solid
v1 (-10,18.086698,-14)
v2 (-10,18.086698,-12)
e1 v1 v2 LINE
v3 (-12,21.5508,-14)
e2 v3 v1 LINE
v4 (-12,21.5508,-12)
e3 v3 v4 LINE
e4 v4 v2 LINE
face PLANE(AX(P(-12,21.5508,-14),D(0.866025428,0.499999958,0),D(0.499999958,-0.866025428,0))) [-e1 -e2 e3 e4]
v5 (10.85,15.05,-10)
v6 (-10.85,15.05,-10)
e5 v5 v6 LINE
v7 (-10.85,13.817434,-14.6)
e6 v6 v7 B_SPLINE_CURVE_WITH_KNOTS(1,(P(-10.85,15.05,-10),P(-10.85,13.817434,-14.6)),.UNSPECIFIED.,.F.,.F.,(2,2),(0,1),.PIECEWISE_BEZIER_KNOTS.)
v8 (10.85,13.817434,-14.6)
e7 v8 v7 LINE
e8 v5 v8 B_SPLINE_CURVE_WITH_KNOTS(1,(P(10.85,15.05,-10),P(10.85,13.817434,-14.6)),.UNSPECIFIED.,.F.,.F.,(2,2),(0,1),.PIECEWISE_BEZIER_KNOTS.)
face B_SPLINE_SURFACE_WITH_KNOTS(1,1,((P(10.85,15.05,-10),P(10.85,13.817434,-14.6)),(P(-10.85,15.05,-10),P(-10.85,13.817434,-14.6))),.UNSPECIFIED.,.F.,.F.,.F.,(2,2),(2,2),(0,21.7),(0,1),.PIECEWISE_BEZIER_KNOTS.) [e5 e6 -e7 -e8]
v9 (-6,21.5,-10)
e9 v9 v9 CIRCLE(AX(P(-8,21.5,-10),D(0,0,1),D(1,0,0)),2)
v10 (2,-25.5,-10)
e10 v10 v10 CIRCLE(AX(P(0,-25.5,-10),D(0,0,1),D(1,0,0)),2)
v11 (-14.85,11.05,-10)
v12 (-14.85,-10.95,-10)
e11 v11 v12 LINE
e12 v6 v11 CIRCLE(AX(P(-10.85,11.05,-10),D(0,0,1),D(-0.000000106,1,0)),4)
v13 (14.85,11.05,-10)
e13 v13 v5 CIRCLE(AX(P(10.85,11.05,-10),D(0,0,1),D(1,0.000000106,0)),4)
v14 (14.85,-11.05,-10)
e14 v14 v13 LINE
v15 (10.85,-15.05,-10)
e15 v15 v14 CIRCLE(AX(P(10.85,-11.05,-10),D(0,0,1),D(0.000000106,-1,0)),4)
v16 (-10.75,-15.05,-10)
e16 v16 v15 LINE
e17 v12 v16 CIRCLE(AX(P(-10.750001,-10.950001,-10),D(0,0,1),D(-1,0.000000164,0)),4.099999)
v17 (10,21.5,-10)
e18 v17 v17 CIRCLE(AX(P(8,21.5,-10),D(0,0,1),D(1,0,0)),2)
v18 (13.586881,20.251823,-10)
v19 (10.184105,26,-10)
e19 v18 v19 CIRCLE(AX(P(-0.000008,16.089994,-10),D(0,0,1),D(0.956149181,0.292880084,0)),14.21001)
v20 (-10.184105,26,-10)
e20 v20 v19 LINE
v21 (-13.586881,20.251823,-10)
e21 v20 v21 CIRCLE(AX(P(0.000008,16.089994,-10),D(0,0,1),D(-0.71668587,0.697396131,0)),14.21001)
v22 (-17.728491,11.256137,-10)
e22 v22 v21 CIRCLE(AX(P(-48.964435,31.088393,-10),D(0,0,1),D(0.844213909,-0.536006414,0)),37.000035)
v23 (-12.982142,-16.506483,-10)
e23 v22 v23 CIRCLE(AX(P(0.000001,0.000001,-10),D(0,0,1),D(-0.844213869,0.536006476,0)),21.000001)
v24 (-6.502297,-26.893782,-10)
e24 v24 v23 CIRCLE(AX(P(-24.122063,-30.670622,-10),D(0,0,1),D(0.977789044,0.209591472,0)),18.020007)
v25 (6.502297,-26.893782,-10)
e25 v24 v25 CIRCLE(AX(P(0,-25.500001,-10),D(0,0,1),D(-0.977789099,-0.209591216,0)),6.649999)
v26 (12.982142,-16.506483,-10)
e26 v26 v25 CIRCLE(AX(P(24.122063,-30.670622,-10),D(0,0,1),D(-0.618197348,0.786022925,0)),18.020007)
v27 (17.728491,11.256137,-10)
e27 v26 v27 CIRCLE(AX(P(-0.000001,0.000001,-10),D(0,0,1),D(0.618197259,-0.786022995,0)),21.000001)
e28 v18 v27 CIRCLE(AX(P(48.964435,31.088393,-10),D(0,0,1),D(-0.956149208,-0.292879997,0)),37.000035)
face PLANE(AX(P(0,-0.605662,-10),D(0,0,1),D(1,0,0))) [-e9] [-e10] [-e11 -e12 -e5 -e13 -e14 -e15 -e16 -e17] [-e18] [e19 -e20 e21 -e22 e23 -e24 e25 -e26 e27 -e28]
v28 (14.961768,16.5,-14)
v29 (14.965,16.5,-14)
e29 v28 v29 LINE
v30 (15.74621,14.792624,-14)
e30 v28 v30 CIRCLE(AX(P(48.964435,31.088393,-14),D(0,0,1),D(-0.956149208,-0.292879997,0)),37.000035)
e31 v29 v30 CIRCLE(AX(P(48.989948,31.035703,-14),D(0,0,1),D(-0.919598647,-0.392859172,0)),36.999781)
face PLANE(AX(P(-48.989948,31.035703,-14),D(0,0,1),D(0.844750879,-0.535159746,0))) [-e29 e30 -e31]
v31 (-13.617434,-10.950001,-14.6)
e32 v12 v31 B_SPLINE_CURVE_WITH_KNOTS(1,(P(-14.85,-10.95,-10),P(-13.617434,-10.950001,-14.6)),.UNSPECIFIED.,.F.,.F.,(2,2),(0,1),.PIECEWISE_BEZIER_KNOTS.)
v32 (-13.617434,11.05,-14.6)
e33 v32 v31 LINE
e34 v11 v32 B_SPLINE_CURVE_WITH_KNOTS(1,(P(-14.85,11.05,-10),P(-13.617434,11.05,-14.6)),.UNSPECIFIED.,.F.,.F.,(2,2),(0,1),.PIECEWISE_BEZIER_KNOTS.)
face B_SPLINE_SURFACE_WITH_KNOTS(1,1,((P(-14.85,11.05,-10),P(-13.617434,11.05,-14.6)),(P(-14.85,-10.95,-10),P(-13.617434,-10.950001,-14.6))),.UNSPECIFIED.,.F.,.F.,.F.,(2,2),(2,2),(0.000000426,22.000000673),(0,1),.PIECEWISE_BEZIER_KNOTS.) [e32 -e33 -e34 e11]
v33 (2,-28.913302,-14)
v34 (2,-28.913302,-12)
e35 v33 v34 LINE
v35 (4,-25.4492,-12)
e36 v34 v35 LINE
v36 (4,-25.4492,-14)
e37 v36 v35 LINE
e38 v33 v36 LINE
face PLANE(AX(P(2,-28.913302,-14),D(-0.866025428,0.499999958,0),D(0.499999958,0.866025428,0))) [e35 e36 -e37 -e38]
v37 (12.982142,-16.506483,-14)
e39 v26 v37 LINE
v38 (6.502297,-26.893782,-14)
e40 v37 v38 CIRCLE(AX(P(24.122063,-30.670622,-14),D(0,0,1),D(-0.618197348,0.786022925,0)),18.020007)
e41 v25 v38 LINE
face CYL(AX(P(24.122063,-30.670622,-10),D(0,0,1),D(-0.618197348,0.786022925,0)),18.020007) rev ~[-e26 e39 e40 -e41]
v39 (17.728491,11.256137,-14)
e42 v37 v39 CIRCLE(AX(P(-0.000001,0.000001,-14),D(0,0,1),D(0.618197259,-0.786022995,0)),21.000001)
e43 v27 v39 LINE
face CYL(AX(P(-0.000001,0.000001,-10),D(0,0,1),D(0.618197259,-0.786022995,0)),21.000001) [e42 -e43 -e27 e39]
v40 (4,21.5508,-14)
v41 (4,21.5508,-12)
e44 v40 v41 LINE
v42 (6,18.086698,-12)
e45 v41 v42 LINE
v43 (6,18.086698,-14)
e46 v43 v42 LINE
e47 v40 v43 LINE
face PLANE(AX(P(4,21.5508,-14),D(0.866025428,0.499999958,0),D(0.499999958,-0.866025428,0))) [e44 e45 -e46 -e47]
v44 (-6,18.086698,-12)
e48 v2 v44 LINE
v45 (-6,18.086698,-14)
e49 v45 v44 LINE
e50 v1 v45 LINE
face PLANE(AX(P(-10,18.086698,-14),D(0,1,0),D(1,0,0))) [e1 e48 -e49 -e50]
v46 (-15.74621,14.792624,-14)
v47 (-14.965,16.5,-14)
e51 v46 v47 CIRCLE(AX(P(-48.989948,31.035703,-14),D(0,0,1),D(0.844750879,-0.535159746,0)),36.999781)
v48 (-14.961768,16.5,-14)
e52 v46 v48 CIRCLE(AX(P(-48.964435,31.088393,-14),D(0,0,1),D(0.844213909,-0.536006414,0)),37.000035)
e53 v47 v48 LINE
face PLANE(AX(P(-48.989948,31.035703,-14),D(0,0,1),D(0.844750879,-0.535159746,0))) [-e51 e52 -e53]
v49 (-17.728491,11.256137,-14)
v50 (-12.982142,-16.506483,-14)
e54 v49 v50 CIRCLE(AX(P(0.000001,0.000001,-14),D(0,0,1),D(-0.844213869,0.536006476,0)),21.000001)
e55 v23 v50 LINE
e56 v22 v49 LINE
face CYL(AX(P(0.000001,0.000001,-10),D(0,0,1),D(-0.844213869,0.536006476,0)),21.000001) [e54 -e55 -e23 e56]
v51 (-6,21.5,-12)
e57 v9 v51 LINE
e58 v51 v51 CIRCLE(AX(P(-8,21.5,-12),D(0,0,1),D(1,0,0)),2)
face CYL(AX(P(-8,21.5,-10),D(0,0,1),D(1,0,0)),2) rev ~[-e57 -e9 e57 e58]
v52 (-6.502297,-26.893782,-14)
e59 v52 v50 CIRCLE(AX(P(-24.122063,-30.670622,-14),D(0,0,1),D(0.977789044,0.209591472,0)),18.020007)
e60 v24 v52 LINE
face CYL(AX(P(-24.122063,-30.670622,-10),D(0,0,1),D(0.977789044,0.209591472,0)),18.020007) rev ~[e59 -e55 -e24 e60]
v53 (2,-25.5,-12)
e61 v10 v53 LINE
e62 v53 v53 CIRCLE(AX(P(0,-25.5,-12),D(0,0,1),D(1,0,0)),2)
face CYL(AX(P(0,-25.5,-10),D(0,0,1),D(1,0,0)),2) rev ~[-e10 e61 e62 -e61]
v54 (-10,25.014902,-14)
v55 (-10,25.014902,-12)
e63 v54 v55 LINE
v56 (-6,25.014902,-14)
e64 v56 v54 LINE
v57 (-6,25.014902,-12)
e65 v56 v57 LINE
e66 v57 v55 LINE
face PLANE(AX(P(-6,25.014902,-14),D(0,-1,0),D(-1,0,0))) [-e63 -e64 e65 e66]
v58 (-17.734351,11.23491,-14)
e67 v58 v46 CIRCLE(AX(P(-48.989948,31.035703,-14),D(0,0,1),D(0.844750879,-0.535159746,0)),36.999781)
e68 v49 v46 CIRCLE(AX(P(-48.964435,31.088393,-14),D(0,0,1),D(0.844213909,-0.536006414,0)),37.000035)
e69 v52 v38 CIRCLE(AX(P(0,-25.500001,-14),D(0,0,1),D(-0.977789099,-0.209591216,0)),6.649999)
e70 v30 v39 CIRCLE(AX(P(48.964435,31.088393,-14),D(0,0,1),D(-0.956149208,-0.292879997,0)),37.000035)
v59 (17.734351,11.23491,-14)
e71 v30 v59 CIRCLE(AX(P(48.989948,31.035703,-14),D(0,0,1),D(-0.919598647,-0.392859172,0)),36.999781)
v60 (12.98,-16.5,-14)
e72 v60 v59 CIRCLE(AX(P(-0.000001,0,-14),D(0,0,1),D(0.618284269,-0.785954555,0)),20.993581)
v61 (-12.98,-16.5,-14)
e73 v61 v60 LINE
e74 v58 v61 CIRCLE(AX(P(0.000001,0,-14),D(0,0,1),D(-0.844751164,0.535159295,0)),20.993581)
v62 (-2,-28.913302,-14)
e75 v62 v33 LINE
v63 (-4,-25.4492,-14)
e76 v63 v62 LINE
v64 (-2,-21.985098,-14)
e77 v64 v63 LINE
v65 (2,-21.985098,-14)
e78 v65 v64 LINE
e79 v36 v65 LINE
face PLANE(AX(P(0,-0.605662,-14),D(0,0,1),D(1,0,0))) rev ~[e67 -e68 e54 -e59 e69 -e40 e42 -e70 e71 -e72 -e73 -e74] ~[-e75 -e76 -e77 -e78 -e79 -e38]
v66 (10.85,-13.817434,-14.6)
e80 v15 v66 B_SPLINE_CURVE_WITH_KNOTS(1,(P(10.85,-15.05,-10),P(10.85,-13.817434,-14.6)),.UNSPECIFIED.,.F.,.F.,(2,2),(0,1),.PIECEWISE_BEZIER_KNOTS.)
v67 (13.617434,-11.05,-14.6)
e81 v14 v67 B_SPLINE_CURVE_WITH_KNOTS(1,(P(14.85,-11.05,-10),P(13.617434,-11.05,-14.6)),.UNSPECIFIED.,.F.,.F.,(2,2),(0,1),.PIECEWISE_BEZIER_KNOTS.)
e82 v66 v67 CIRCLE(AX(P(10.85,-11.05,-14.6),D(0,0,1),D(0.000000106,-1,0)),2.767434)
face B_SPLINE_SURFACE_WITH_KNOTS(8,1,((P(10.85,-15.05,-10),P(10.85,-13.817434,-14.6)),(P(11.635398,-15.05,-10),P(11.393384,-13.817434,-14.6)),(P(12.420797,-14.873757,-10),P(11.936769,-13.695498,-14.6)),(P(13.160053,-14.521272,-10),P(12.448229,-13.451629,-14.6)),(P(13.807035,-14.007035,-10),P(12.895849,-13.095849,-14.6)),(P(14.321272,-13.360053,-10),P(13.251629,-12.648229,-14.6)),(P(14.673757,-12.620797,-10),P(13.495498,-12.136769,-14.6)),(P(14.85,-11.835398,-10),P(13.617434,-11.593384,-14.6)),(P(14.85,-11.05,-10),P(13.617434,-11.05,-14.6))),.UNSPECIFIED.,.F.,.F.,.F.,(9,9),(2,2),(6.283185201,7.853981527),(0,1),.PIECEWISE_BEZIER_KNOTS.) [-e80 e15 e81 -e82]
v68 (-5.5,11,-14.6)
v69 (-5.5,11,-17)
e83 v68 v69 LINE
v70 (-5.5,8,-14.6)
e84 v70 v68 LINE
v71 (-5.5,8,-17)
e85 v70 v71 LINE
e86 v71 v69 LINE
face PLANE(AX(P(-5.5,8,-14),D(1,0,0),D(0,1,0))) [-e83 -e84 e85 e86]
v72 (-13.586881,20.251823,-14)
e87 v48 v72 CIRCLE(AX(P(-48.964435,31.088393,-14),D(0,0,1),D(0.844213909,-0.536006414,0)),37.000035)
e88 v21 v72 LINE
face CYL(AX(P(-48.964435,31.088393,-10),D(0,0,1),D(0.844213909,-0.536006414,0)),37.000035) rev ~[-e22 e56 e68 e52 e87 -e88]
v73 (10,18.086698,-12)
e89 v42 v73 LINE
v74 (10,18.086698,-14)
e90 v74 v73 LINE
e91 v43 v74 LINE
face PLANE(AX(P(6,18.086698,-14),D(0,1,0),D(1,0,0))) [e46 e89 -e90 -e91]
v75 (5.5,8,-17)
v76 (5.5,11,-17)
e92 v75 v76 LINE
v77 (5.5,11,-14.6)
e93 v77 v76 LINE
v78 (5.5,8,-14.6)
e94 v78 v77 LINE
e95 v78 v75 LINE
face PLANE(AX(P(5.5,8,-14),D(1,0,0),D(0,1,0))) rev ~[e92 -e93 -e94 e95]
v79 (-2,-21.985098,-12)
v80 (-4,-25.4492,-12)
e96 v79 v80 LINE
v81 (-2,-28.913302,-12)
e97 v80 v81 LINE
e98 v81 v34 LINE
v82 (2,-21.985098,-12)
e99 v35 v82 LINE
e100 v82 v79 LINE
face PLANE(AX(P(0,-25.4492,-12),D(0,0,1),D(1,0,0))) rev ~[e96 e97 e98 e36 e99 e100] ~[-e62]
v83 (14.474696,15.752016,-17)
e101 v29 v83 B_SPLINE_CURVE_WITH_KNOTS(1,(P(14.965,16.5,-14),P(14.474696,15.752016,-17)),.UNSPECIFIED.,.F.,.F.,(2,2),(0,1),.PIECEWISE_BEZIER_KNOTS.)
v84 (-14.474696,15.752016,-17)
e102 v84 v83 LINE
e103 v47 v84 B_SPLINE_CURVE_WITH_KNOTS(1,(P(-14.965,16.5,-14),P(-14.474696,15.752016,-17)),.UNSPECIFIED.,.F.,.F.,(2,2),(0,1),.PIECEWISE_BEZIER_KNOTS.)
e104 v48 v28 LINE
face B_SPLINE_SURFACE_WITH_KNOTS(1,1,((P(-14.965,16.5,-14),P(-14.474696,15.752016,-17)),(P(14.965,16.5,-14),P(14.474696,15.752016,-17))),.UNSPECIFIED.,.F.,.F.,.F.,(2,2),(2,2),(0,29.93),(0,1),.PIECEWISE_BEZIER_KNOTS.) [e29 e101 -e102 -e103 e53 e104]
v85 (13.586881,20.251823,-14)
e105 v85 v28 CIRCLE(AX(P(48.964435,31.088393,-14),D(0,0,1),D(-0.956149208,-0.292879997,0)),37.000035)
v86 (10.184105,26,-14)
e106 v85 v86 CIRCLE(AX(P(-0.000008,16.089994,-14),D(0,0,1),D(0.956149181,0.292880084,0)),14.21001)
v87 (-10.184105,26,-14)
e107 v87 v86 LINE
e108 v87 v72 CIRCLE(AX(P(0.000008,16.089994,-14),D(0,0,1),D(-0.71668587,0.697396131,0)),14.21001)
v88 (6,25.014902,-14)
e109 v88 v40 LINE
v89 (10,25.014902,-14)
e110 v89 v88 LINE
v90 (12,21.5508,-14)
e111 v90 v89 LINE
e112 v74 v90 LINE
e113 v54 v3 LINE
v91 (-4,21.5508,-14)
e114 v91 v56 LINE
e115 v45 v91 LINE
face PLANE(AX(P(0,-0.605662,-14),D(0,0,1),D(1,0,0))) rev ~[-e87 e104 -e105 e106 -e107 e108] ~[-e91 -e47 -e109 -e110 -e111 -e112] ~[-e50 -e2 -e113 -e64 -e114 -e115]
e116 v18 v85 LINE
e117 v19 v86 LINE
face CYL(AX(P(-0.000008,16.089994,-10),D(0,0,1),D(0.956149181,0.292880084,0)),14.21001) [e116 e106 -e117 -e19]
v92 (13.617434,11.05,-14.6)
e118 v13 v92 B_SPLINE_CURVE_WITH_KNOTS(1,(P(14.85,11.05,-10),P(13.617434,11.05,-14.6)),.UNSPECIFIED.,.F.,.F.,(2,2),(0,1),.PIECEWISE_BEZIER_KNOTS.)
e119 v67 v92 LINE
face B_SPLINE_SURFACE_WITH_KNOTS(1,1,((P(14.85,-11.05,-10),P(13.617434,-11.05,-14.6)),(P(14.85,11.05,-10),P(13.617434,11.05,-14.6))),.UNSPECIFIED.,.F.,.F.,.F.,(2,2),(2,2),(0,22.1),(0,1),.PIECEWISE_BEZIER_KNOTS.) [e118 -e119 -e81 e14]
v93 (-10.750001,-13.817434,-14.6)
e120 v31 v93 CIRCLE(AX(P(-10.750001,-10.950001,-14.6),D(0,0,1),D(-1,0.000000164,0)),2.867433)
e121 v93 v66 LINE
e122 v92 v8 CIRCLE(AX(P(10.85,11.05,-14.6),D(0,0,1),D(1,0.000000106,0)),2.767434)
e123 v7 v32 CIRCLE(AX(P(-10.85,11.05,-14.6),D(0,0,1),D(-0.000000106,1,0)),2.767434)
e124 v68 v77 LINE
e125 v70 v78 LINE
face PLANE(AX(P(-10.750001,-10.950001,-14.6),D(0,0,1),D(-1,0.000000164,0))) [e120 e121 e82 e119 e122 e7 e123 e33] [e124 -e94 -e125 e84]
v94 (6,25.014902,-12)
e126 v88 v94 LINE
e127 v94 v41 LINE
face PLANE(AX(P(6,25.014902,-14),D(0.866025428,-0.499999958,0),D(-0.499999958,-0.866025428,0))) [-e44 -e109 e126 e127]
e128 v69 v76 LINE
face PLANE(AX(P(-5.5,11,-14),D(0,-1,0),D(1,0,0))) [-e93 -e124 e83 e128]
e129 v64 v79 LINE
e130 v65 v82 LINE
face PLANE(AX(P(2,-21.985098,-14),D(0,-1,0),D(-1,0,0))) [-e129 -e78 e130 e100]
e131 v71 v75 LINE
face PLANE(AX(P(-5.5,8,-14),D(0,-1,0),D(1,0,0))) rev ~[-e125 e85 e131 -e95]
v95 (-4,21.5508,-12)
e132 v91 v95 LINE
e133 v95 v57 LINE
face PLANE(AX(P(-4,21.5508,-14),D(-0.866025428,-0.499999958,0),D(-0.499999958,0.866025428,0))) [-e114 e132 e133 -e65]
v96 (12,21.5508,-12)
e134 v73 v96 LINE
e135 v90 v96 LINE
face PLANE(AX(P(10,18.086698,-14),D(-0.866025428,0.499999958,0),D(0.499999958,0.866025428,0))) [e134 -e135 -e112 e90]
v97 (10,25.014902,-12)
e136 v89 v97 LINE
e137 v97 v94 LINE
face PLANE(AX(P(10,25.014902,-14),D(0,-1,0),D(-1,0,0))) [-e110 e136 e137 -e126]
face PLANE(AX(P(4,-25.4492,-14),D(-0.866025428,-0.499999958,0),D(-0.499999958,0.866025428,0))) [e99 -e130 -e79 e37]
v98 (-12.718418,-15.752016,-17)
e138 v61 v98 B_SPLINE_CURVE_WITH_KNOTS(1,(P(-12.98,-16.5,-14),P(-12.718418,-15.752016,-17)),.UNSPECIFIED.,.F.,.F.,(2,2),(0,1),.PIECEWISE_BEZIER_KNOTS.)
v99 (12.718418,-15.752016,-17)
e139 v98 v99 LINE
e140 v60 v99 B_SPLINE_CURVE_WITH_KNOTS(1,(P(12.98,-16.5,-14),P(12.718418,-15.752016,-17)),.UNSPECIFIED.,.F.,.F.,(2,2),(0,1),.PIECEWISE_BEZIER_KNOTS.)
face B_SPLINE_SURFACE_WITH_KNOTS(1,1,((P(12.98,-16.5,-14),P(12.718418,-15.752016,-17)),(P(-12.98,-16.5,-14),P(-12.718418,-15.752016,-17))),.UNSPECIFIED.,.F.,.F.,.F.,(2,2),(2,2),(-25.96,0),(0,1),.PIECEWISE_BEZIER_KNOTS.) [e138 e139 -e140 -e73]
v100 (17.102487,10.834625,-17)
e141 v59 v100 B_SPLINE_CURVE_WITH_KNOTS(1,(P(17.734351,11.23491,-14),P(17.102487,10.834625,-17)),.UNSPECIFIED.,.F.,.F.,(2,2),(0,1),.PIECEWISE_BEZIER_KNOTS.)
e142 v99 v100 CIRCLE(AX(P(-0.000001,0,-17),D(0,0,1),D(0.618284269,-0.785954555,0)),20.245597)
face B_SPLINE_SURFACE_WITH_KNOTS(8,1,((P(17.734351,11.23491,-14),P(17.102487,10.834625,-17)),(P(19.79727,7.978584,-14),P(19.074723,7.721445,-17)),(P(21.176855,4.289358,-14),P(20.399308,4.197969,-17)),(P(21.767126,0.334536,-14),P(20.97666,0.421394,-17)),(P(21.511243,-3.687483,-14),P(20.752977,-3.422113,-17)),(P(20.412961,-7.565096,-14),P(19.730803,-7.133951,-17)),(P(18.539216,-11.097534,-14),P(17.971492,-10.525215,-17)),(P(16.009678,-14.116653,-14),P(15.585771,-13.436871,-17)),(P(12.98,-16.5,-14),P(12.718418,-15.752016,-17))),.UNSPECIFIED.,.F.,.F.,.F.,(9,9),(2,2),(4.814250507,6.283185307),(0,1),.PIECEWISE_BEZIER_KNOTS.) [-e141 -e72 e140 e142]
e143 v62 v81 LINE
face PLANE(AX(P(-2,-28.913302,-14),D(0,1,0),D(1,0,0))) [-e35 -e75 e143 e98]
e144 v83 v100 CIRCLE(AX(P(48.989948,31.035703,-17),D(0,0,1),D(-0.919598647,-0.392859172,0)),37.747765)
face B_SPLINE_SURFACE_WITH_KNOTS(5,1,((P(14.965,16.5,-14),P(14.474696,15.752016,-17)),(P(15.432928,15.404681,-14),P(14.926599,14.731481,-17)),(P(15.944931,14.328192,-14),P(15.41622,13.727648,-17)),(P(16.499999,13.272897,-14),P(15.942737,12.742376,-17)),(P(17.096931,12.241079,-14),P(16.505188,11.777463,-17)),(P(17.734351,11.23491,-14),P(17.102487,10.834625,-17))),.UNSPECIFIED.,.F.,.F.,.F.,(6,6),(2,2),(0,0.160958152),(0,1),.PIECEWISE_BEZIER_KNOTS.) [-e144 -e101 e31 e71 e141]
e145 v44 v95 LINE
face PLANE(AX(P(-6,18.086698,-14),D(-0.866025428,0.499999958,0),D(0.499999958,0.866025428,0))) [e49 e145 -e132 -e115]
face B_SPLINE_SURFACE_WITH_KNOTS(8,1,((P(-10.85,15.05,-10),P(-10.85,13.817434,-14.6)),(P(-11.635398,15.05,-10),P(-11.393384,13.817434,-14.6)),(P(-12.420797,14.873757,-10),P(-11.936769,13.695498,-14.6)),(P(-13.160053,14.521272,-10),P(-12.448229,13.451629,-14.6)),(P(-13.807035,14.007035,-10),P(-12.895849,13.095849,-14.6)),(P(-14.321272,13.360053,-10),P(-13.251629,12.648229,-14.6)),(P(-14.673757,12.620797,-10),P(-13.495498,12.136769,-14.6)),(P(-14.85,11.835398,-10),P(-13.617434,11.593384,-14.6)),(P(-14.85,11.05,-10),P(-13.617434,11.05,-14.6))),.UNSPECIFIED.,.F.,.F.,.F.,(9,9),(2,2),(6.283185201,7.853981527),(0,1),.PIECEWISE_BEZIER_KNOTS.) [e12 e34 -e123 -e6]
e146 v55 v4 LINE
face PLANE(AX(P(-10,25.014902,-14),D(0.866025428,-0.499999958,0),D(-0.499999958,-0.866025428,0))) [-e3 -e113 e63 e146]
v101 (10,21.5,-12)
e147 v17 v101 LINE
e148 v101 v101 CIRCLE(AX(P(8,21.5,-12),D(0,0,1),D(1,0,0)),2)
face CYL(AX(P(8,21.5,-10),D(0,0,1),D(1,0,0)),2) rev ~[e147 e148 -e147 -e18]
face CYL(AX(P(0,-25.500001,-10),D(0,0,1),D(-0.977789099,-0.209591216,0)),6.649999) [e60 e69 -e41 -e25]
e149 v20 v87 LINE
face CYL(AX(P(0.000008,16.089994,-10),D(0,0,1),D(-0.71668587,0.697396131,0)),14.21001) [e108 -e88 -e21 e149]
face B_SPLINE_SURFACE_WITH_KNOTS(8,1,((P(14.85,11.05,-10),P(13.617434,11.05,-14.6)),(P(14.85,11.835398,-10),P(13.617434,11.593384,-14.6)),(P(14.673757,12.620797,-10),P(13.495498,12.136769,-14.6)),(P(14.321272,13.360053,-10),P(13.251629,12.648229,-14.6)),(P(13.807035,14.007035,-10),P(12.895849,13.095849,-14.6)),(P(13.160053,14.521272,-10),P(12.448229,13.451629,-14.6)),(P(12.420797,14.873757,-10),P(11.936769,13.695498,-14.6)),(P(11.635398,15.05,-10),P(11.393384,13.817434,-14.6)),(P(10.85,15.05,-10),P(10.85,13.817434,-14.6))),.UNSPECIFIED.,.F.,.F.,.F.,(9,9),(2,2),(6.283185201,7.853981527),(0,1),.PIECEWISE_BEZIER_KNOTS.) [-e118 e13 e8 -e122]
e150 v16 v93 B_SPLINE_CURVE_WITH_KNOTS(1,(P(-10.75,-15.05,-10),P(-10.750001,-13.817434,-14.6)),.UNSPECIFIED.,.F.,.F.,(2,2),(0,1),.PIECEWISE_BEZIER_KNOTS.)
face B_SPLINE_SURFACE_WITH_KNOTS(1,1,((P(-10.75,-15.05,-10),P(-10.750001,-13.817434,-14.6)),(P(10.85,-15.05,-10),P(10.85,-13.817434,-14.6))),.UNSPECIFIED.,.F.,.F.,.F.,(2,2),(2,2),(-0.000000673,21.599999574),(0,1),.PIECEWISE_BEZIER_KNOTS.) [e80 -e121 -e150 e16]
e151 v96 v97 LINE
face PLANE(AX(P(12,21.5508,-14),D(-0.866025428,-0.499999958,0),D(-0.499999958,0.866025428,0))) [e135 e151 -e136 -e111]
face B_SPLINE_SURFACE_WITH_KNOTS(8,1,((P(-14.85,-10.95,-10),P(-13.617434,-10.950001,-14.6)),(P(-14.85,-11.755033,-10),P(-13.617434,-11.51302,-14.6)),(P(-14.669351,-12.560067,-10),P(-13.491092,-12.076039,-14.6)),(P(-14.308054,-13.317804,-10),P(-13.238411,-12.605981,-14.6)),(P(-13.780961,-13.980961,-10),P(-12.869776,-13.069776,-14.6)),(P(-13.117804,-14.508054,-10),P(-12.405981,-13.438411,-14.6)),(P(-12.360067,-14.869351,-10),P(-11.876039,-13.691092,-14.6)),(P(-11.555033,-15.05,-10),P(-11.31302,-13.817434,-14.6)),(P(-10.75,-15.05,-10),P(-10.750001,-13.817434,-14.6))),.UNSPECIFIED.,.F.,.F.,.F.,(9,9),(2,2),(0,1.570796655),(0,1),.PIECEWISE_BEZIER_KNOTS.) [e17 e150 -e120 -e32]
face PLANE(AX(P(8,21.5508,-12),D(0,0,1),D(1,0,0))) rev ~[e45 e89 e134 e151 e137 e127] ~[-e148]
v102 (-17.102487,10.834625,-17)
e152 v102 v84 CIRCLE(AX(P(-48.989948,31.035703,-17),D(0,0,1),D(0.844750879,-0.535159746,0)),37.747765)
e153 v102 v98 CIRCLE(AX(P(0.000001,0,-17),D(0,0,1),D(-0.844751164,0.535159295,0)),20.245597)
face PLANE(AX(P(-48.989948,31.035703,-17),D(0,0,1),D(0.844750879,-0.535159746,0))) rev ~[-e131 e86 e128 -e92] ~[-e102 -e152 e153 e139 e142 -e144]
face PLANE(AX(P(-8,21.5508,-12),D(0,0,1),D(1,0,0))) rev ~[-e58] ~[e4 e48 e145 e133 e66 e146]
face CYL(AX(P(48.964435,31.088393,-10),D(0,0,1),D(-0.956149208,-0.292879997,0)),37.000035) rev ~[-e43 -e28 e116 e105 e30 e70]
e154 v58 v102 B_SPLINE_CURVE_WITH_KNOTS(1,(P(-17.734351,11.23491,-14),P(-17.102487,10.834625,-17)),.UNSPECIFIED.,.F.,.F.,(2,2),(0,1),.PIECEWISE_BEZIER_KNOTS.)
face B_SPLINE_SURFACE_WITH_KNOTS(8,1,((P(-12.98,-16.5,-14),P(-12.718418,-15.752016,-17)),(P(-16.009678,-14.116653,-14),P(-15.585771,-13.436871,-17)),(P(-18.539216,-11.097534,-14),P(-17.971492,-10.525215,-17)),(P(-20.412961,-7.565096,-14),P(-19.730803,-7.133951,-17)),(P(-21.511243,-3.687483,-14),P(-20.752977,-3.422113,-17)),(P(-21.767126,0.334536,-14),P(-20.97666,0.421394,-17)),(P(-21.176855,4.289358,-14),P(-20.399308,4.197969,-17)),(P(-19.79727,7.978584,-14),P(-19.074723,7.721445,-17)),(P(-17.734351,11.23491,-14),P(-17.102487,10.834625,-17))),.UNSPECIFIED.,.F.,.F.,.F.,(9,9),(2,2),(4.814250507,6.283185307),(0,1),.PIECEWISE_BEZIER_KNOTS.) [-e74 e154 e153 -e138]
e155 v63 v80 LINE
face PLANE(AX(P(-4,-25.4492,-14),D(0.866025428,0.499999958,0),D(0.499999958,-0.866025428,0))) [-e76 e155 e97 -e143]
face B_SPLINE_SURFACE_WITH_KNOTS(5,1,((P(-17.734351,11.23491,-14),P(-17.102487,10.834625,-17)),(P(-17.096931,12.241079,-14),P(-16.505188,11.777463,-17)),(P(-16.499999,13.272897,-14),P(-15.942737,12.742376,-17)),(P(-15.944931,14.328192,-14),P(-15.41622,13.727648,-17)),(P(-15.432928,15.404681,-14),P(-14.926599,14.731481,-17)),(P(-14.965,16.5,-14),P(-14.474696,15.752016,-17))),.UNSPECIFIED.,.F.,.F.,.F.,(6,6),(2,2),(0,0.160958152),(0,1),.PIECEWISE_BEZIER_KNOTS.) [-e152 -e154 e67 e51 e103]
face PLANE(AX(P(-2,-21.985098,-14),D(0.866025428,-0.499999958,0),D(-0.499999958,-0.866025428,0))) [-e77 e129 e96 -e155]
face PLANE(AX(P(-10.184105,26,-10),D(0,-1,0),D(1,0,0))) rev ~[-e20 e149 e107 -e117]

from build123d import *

# Parameters (mm, degrees)
PAD033_DEPTH    = 3
PAD033_TAPER    = 14
SKETCH057_R     = 2
PAD034_DEPTH    = 4
POCKET008_DEPTH = 4.6
POCKET008_TAPER = 15
POCKET009_DEPTH = 2
SKETCH056_W     = 11
SKETCH056_H     = 3
POCKET010_DEPTH = 5


with BuildPart() as part:
    # Sketch055 → Pad033 (new body)
    with BuildSketch(Plane.XY.offset(-4)):
        with BuildLine():
            ThreePointArc((-17.734351, 11.23491), (-16.243686, 13.811706), (-14.965, 16.5))
            Line((-14.965, 16.5), (14.965, 16.5))
            ThreePointArc((14.965, 16.5), (16.243686, 13.811706), (17.734351, 11.23491))
            ThreePointArc((12.98, -16.5), (20.691765, -3.547007), (17.734351, 11.23491))
            Line((-12.98, -16.5), (12.98, -16.5))
            ThreePointArc((-17.734351, 11.23491), (-20.691765, -3.547007), (-12.98, -16.5))
        make_face()
    extrude(amount=-PAD033_DEPTH, taper=PAD033_TAPER)

    # Sketch057 → Pad034 (join)
    with BuildSketch(Plane.XY):
        with BuildLine():
            ThreePointArc((13.586881, 20.251823), (12.228055, 23.328699), (10.184105, 26))
            Line((-10.184105, 26), (10.184105, 26))
            ThreePointArc((-10.184105, 26), (-12.228055, 23.328699), (-13.586881, 20.251823))
            ThreePointArc((-17.728491, 11.256137), (-15.355357, 15.614788), (-13.586881, 20.251823))
            ThreePointArc((-17.728491, 11.256137), (-20.699674, -3.538854), (-12.982142, -16.506483))
            ThreePointArc((-6.502297, -26.893782), (-8.833051, -21.132971), (-12.982142, -16.506483))
            ThreePointArc((-6.502297, -26.893782), (0, -32.15), (6.502297, -26.893782))
            ThreePointArc((12.982142, -16.506483), (8.833051, -21.132971), (6.502297, -26.893782))
            ThreePointArc((12.982142, -16.506483), (20.699674, -3.538854), (17.728491, 11.256137))
            ThreePointArc((13.586881, 20.251823), (15.355357, 15.614788), (17.728491, 11.256137))
        make_face()
        with Locations((0, -25.5)):
            Circle(SKETCH057_R, mode=Mode.SUBTRACT)
        with Locations((-8, 21.5)):
            Circle(SKETCH057_R, mode=Mode.SUBTRACT)
        with Locations((8, 21.5)):
            Circle(SKETCH057_R, mode=Mode.SUBTRACT)
    extrude(amount=-PAD034_DEPTH)

    # Sketch058 → Pocket008 (cut)
    with BuildSketch(Plane.XY):
        with BuildLine():
            Line((-14.85, 11.05), (-14.85, -10.95))
            ThreePointArc((-14.85, -10.95), (-13.649138, -13.849138), (-10.75, -15.05))
            Line((-10.75, -15.05), (10.85, -15.05))
            ThreePointArc((10.85, -15.05), (13.678427, -13.878427), (14.85, -11.05))
            Line((14.85, -11.05), (14.85, 11.05))
            ThreePointArc((14.85, 11.05), (13.678427, 13.878427), (10.85, 15.05))
            Line((10.85, 15.05), (-10.85, 15.05))
            ThreePointArc((-10.85, 15.05), (-13.678427, 13.878427), (-14.85, 11.05))
        make_face()
    extrude(amount=-POCKET008_DEPTH, taper=POCKET008_TAPER, mode=Mode.SUBTRACT)

    # Sketch025 (on Face20 of Pocket008) → Pocket009 (cut)
    with BuildSketch(Plane(origin=(0, -3.3492, -4), x_dir=(1, 0, 0), z_dir=(0, 0, 1))):
        Polygon((12, 24.9), (10, 28.364102), (6, 28.364102), (4, 24.9), (6, 21.435898), (10, 21.435898), align=None)
        Polygon((-4, 24.9), (-6, 28.364102), (-10, 28.364102), (-12, 24.9), (-10, 21.435898), (-6, 21.435898), align=None)
        Polygon((4, -22.1), (2, -18.635898), (-2, -18.635898), (-4, -22.1), (-2, -25.564102), (2, -25.564102), align=None)
    extrude(amount=POCKET009_DEPTH, mode=Mode.SUBTRACT)

    # Sketch056 → Pocket010 (cut)
    with BuildSketch(Plane.XY.offset(-4)):
        with Locations((0, 9.5)):
            Rectangle(SKETCH056_W, SKETCH056_H)
    extrude(amount=-POCKET010_DEPTH, mode=Mode.SUBTRACT)


with BuildPart() as part_1:
    # Body016 placement: moved
    add(part.part.moved(Location((0, 0, -10))))


solid = part_1.part
